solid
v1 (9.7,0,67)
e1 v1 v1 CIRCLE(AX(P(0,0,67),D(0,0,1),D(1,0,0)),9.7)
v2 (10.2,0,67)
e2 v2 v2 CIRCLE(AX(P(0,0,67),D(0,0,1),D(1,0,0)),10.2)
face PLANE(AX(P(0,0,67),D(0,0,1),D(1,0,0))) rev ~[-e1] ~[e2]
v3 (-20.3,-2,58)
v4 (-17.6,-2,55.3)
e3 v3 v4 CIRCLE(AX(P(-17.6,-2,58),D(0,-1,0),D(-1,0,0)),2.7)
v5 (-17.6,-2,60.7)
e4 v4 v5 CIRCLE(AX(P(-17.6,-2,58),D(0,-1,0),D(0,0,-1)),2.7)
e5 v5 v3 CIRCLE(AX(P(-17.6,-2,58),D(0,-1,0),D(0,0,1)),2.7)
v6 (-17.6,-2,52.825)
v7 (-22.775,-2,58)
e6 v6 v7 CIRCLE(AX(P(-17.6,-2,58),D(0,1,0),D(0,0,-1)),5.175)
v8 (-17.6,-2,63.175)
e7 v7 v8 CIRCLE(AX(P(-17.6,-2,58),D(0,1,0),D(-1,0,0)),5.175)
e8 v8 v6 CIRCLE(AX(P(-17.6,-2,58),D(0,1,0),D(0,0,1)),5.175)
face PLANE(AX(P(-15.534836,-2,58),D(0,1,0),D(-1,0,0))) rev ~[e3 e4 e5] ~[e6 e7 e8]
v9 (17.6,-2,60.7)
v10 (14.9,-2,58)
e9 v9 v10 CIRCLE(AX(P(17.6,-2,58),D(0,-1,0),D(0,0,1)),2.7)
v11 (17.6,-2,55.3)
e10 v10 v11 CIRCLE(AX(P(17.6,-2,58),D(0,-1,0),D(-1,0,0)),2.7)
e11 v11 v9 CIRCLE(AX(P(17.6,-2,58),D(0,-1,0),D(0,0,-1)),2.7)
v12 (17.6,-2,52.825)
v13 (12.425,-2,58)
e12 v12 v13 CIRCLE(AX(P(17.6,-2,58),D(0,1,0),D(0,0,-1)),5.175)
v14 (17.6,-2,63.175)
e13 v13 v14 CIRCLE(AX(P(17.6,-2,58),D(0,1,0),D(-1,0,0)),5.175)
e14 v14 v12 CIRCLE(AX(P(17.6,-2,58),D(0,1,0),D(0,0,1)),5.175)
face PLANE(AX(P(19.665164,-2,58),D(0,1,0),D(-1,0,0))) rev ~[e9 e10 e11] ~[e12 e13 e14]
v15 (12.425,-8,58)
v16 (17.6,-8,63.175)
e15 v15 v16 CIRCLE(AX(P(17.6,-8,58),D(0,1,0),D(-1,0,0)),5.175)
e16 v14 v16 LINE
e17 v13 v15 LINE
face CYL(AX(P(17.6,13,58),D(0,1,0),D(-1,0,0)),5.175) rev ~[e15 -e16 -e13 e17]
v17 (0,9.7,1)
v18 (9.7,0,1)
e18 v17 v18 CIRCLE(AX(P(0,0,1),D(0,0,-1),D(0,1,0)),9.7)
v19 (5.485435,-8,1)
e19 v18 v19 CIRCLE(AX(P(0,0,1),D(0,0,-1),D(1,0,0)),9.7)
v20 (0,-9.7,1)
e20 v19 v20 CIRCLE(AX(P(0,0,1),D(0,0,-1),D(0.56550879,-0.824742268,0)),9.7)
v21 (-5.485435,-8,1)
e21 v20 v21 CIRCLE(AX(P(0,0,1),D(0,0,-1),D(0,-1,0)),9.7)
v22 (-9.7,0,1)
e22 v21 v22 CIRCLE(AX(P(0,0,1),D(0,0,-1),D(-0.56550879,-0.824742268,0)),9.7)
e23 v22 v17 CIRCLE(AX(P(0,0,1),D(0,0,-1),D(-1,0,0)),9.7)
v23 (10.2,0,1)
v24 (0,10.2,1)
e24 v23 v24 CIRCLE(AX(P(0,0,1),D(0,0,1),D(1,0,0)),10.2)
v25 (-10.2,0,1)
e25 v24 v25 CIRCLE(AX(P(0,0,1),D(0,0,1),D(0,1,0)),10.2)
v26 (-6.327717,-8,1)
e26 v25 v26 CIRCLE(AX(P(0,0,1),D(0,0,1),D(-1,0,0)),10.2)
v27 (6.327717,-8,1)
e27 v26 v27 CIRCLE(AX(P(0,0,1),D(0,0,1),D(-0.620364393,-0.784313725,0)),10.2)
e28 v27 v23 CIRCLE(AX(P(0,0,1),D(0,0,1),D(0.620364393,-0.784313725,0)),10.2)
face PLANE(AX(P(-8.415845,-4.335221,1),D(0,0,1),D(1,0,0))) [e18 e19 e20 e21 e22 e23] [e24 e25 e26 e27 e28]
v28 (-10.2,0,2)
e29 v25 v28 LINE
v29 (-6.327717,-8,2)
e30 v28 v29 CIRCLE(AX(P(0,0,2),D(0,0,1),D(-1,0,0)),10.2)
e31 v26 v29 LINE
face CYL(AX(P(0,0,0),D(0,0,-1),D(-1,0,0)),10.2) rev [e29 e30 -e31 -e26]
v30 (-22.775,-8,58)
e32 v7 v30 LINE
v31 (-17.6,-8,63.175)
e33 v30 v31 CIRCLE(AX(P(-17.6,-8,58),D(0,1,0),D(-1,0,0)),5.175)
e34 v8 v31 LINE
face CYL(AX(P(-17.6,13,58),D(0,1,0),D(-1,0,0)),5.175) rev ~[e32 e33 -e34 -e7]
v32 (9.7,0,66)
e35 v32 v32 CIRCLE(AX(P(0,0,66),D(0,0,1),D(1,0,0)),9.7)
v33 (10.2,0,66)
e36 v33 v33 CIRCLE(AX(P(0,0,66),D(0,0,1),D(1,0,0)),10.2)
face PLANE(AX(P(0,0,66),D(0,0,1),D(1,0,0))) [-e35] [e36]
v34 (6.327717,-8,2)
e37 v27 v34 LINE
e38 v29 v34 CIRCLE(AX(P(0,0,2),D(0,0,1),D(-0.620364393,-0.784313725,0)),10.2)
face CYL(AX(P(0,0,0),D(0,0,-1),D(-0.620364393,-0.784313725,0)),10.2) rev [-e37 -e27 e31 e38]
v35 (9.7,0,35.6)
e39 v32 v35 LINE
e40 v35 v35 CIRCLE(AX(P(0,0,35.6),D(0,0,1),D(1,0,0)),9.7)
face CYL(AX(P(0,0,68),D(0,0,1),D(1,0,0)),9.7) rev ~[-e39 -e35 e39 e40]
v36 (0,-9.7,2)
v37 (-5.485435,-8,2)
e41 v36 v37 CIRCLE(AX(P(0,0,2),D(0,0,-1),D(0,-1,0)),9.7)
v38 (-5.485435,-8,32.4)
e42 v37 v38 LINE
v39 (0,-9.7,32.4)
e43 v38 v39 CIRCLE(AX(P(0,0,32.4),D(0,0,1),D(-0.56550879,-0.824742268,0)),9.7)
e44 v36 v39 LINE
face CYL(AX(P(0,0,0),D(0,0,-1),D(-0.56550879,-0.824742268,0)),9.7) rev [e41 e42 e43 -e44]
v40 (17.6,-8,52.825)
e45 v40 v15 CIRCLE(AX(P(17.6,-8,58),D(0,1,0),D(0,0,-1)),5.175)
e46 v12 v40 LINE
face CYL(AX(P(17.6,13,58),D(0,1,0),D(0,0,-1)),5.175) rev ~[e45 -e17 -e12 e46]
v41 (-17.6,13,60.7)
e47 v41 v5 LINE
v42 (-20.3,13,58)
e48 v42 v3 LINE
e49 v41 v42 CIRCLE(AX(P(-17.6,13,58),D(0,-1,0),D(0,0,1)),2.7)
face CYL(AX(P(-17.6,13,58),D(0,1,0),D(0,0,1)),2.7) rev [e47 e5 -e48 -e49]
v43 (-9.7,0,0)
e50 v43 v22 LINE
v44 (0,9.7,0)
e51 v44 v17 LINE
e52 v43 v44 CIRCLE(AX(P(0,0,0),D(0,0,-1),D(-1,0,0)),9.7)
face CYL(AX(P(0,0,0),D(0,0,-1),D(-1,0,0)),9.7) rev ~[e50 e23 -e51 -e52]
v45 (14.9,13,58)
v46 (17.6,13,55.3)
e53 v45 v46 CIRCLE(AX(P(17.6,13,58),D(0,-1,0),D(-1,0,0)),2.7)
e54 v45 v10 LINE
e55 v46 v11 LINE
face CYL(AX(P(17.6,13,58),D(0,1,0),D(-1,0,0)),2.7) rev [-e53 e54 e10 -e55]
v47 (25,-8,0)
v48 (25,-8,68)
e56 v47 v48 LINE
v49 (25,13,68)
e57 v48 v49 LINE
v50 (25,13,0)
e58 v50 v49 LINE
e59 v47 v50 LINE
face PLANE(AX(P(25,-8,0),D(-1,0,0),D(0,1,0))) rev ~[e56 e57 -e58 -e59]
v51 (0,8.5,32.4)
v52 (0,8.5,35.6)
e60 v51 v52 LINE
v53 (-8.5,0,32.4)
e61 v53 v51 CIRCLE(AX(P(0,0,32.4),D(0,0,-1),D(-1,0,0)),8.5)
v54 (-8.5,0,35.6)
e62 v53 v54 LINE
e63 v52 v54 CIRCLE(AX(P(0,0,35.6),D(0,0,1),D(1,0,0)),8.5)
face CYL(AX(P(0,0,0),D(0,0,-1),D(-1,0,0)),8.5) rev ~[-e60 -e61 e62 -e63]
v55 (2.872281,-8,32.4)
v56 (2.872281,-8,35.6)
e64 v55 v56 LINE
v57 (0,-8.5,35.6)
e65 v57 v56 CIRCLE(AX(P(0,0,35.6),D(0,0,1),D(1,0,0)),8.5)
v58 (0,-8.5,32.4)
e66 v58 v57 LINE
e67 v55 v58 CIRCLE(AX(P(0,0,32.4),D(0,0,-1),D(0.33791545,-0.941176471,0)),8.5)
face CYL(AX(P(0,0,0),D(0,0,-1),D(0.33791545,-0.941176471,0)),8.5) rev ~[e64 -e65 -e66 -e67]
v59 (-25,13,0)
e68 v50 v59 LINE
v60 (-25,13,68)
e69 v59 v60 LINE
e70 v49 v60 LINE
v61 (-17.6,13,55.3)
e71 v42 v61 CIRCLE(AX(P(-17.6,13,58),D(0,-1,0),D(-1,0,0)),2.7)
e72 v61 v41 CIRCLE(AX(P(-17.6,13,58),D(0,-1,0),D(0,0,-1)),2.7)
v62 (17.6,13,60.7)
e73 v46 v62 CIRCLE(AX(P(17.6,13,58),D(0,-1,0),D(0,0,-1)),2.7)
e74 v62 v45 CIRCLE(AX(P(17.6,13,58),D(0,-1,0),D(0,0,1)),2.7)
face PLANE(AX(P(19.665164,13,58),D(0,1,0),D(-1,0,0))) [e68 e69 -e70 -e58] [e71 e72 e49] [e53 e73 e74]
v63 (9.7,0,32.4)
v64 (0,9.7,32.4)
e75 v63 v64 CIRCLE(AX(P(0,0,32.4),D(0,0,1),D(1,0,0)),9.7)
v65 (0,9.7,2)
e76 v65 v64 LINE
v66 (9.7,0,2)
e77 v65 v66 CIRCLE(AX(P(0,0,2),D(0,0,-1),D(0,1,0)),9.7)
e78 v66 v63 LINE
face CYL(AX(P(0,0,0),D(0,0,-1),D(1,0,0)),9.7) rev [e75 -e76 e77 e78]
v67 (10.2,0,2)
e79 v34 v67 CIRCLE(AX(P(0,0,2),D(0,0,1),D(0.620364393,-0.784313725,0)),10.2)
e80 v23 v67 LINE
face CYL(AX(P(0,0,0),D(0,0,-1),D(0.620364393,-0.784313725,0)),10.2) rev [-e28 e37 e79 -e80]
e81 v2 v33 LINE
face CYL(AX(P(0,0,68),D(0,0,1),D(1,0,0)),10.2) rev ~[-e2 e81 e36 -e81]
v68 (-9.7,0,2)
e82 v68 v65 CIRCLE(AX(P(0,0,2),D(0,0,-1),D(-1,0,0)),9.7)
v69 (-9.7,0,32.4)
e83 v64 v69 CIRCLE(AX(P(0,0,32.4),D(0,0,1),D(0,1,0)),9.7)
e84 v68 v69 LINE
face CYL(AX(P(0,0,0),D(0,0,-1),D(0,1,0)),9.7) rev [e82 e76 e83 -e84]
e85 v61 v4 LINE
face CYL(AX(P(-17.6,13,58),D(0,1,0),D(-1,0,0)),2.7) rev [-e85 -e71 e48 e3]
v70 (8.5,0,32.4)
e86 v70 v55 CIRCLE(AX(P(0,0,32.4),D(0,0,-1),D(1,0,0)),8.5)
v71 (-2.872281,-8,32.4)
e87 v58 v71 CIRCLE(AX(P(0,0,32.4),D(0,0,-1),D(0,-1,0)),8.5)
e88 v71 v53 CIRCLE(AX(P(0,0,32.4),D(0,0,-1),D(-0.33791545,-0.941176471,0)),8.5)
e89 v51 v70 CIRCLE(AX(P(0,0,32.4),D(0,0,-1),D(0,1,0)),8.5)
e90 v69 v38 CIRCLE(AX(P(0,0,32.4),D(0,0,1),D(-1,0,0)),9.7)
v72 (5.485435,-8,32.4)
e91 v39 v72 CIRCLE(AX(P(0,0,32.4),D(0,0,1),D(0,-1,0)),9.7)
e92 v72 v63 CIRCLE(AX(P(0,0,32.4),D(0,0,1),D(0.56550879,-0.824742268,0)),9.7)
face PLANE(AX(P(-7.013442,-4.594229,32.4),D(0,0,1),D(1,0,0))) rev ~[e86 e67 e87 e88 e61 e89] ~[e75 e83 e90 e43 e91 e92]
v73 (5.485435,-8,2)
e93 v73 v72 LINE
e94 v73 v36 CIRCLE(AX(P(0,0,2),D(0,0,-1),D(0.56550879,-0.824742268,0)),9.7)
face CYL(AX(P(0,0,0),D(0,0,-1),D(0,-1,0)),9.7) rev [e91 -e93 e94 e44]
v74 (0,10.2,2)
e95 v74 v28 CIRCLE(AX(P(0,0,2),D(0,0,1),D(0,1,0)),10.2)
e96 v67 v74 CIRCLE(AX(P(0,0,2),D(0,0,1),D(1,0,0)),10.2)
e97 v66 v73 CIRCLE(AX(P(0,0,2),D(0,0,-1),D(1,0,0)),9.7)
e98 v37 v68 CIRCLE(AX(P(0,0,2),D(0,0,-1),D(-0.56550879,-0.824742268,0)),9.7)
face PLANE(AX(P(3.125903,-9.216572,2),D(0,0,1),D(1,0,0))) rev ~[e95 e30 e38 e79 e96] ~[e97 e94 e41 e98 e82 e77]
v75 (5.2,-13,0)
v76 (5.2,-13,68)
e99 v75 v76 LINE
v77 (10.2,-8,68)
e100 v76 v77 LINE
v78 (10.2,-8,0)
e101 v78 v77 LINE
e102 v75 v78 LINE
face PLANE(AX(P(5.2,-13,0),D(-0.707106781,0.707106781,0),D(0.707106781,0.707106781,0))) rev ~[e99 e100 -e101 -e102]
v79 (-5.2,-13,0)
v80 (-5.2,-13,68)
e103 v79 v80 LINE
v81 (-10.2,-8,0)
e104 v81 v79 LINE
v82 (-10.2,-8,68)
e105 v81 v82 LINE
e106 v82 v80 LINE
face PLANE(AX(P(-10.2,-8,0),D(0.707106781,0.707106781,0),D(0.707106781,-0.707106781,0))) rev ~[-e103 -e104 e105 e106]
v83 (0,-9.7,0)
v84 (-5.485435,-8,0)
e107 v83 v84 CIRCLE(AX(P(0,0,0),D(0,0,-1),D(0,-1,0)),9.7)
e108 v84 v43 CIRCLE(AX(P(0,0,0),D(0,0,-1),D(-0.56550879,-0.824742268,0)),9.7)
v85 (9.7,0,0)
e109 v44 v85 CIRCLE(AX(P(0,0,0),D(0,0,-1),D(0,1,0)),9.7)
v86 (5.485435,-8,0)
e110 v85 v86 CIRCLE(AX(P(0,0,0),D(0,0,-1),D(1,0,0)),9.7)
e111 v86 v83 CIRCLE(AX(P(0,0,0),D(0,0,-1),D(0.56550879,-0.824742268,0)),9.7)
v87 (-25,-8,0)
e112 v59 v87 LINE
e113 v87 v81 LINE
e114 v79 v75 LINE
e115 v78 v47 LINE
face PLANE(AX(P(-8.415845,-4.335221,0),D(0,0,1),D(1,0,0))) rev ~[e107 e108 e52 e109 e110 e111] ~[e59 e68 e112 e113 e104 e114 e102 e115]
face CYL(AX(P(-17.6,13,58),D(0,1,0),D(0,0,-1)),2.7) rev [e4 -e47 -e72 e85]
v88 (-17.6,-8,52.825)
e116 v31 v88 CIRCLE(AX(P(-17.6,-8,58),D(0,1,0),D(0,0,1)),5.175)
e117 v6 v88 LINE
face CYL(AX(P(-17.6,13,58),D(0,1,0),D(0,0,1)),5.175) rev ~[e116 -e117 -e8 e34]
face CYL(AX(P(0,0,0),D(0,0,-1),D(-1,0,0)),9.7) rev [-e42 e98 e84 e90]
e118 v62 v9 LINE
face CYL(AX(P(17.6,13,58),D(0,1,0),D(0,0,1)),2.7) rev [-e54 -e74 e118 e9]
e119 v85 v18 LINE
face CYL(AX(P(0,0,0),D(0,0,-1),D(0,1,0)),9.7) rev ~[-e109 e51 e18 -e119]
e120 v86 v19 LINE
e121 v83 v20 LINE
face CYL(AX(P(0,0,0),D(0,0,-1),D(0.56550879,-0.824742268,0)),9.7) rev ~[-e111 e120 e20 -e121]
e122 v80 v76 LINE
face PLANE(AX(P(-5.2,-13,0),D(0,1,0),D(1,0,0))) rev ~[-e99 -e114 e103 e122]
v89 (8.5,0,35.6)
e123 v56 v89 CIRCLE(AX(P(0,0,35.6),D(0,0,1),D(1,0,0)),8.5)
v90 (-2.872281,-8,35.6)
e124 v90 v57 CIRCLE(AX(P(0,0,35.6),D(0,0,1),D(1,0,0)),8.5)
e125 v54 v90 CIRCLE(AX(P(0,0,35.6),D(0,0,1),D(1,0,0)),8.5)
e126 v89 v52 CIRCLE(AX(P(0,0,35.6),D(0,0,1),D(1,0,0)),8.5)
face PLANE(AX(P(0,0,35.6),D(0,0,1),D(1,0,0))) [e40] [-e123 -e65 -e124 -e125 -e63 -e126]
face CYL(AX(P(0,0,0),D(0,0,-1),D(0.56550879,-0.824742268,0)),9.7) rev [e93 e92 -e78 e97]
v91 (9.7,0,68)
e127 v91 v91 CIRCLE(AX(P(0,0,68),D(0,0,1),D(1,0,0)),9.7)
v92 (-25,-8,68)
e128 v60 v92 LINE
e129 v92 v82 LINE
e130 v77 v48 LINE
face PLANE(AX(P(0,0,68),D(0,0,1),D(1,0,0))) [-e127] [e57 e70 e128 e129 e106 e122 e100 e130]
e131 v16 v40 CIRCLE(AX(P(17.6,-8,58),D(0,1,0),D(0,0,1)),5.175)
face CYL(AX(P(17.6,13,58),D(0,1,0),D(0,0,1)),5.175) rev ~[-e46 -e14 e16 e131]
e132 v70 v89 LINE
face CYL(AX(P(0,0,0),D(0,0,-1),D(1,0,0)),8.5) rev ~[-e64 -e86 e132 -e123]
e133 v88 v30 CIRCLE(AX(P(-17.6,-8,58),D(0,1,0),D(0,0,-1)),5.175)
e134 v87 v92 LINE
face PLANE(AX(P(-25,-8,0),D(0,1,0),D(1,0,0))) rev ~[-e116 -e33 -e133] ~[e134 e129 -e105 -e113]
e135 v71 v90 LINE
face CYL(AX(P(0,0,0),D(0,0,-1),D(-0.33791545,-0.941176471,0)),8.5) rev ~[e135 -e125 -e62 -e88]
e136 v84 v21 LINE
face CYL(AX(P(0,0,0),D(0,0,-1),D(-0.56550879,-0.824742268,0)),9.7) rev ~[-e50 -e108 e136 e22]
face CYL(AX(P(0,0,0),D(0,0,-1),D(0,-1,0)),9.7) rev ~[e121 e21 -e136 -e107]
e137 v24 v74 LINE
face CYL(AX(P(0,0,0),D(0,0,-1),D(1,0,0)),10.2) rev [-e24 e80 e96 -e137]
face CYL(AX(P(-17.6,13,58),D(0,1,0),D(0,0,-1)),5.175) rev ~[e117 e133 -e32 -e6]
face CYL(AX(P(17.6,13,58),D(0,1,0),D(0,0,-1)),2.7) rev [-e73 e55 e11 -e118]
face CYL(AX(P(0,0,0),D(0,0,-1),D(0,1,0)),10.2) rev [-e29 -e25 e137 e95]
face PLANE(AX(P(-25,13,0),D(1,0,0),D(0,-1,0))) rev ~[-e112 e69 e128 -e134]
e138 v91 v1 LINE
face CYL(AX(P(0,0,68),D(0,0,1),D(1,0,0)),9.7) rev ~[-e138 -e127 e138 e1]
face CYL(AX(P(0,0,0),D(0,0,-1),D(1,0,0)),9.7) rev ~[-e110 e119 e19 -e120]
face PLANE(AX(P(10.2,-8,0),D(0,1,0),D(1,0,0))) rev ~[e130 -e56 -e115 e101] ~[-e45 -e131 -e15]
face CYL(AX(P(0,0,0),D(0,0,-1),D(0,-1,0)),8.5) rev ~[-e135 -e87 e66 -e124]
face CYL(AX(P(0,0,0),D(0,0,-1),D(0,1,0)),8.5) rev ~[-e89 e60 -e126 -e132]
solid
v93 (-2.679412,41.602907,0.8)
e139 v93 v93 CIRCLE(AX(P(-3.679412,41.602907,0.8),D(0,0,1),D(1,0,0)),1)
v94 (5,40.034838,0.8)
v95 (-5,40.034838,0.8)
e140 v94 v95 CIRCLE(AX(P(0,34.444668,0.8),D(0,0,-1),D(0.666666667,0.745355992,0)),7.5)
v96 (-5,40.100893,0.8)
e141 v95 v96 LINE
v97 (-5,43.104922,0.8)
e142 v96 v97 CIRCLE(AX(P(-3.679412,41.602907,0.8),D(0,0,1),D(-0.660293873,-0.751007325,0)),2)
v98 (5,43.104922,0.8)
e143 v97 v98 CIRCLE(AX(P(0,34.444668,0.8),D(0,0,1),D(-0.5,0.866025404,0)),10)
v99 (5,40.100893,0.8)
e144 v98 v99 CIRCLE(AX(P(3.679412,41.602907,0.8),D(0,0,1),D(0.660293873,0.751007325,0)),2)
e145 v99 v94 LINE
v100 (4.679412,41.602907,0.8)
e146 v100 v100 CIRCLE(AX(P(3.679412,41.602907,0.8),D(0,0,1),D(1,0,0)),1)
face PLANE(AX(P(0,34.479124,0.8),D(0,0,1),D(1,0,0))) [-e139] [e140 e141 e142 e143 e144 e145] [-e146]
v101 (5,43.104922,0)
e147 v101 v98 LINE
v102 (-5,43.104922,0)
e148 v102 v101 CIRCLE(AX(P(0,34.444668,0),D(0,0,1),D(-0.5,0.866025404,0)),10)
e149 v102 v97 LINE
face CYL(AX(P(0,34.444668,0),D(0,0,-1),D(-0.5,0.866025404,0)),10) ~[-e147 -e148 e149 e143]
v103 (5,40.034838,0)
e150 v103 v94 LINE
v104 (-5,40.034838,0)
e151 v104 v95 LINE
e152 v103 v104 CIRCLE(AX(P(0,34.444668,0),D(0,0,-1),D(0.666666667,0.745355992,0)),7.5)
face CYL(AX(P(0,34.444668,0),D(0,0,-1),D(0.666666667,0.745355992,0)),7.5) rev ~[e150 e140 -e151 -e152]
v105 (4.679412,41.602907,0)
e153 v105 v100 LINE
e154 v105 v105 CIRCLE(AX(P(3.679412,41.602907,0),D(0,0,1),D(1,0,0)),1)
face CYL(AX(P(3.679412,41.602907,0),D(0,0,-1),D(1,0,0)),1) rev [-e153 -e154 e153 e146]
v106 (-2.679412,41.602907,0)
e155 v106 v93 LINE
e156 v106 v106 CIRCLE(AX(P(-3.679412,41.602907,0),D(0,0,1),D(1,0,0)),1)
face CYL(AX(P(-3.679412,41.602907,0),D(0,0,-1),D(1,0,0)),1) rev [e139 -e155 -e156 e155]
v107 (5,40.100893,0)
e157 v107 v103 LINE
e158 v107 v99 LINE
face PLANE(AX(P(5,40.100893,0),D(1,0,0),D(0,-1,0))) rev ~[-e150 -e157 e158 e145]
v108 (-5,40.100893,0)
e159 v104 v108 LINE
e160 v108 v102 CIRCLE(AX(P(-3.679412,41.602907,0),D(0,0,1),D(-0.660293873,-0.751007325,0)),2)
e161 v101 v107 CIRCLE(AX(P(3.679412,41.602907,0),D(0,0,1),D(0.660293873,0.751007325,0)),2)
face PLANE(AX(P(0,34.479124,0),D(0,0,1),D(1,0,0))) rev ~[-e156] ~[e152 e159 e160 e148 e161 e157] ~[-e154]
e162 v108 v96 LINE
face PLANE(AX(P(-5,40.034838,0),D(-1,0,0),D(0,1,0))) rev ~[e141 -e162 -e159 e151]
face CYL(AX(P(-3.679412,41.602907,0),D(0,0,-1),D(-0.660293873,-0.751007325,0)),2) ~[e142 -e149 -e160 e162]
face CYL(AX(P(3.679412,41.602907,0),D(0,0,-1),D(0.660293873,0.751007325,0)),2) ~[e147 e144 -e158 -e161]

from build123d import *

# Parameters (mm, degrees)
F0_W      = 12.8
F0_H      = 8
F0_W_2    = 2
F1_DEPTH  = 68
F2_DEPTH  = 32.4
F3_DEPTH  = 2
F4_DEPTH  = 1
F5_R      = 9.7
F5_R_2    = 8.5
F6_DEPTH  = 32.4
F5_R_3    = 10.2
F7_DEPTH  = 2
F8_DEPTH  = 1
F10_DEPTH = 21
F11_DEPTH = 15
F12_R     = 1
F13_DEPTH = 0.8


with BuildPart() as f1:
    # F0 (on Top) → F1 (new body)
    with BuildSketch(Plane.XY):
        Polygon((-10.2, 13), (-25, 13), (-25, 5), (-23, 3), (-23, 0), (-10.2, 0), align=None)
        with BuildLine():
            Line((0, 13), (-10.2, 13))
            Line((-10.2, 13), (-10.2, 0))
            ThreePointArc((-10.2, 0), (-7.2124891681, 7.2124891681), (0, 10.2))
            Line((0, 10.2), (0, 13))
        make_face()
        with BuildLine():
            Line((10.2, 13), (0, 13))
            Line((0, 13), (0, 10.2))
            ThreePointArc((0, 10.2), (7.2124891681, 7.2124891681), (10.2, 0))
            Line((10.2, 0), (10.2, 13))
        make_face()
        Polygon((25, 13), (10.2, 13), (10.2, 0), (23, 0), (23, 3), (25, 5), align=None)
        with BuildLine():
            ThreePointArc((0, -10.2), (-3.3496268449, -9.6343136756), (-6.3277168078, -8))
            Line((-6.3277168078, -8), (-10.2, -8))
            Line((-10.2, -8), (-5.2, -13))
            Line((-5.2, -13), (0, -13))
            Line((0, -13), (0, -10.2))
        make_face()
        with Locations((-16.6, -4)):
            Rectangle(F0_W, F0_H)
        with BuildLine():
            ThreePointArc((-6.3277168078, -8), (-9.1810323886, -4.4439446756), (-10.2, 0))
            Line((-10.2, 0), (-10.2, -8))
            Line((-10.2, -8), (-6.3277168078, -8))
        make_face()
        with Locations((16.6, -4)):
            Rectangle(F0_W, F0_H)
        with BuildLine():
            Line((10.2, -8), (10.2, 0))
            ThreePointArc((10.2, 0), (9.1810323886, -4.4439446756), (6.3277168078, -8))
            Line((6.3277168078, -8), (10.2, -8))
        make_face()
        with BuildLine():
            ThreePointArc((6.3277168078, -8), (3.3496268449, -9.6343136756), (0, -10.2))
            Line((0, -10.2), (0, -13))
            Line((0, -13), (5.2, -13))
            Line((5.2, -13), (10.2, -8))
            Line((10.2, -8), (6.3277168078, -8))
        make_face()
        with BuildLine():
            Line((-9.7, 0), (-10.2, 0))
            ThreePointArc((-10.2, 0), (-9.1810323886, -4.4439446756), (-6.3277168078, -8))
            Line((-6.3277168078, -8), (-5.4854352608, -8))
            ThreePointArc((-5.4854352608, -8), (-8.5819205901, -4.5211324892), (-9.7, 0))
        make_face()
        with BuildLine():
            Line((-5.4854352608, -8), (-6.3277168078, -8))
            ThreePointArc((-6.3277168078, -8), (-3.3496268449, -9.6343136756), (0, -10.2))
            Line((0, -10.2), (0, -9.7))
            ThreePointArc((0, -9.7), (-2.8714108031, -9.2652576866), (-5.4854352608, -8))
        make_face()
        with BuildLine():
            Line((0, -9.7), (0, -10.2))
            ThreePointArc((0, -10.2), (3.3496268449, -9.6343136756), (6.3277168078, -8))
            Line((6.3277168078, -8), (5.4854352608, -8))
            ThreePointArc((5.4854352608, -8), (2.8714108031, -9.2652576866), (0, -9.7))
        make_face()
        with BuildLine():
            ThreePointArc((6.3277168078, -8), (9.1810323886, -4.4439446756), (10.2, 0))
            Line((10.2, 0), (9.7, 0))
            ThreePointArc((9.7, 0), (8.5819205901, -4.5211324892), (5.4854352608, -8))
            Line((5.4854352608, -8), (6.3277168078, -8))
        make_face()
        with BuildLine():
            ThreePointArc((10.2, 0), (7.2124891681, 7.2124891681), (0, 10.2))
            Line((0, 10.2), (0, 9.7))
            ThreePointArc((0, 9.7), (6.8589357775, 6.8589357775), (9.7, 0))
            Line((9.7, 0), (10.2, 0))
        make_face()
        with BuildLine():
            ThreePointArc((0, 10.2), (-7.2124891681, 7.2124891681), (-10.2, 0))
            Line((-10.2, 0), (-9.7, 0))
            ThreePointArc((-9.7, 0), (-6.8589357775, 6.8589357775), (0, 9.7))
            Line((0, 9.7), (0, 10.2))
        make_face()
        with BuildLine():
            ThreePointArc((0, 9.7), (-6.8589357775, 6.8589357775), (-9.7, 0))
            Line((-9.7, 0), (-8.5, 0))
            ThreePointArc((-8.5, 0), (-6.0104076401, 6.0104076401), (0, 8.5))
            Line((0, 8.5), (0, 9.7))
        make_face()
        with BuildLine():
            Line((-8.5, 0), (-9.7, 0))
            ThreePointArc((-9.7, 0), (-8.5819205901, -4.5211324892), (-5.4854352608, -8))
            Line((-5.4854352608, -8), (-2.8722813233, -8))
            ThreePointArc((-2.8722813233, -8), (-6.9521360476, -4.8905832348), (-8.5, 0))
        make_face()
        with BuildLine():
            Line((-2.8722813233, -8), (-5.4854352608, -8))
            ThreePointArc((-5.4854352608, -8), (-2.8714108031, -9.2652576866), (0, -9.7))
            Line((0, -9.7), (0, -8.5))
            ThreePointArc((0, -8.5), (-1.4577379737, -8.3740671122), (-2.8722813233, -8))
        make_face()
        with BuildLine():
            Line((0, -8.5), (0, -9.7))
            ThreePointArc((0, -9.7), (2.8714108031, -9.2652576866), (5.4854352608, -8))
            Line((5.4854352608, -8), (2.8722813233, -8))
            ThreePointArc((2.8722813233, -8), (1.4577379737, -8.3740671122), (0, -8.5))
        make_face()
        with BuildLine():
            ThreePointArc((5.4854352608, -8), (8.5819205901, -4.5211324892), (9.7, 0))
            Line((9.7, 0), (8.5, 0))
            ThreePointArc((8.5, 0), (6.9521360476, -4.8905832348), (2.8722813233, -8))
            Line((2.8722813233, -8), (5.4854352608, -8))
        make_face()
        with BuildLine():
            ThreePointArc((9.7, 0), (6.8589357775, 6.8589357775), (0, 9.7))
            Line((0, 9.7), (0, 8.5))
            ThreePointArc((0, 8.5), (6.0104076401, 6.0104076401), (8.5, 0))
            Line((8.5, 0), (9.7, 0))
        make_face()
        with Locations((24, -4)):
            Rectangle(F0_W_2, F0_H)
        Polygon((25, 3), (25, 5), (23, 3), (23, 0), (25, 0), align=None)
        with Locations((-24, -4)):
            Rectangle(F0_W_2, F0_H)
        Polygon((-23, 3), (-25, 5), (-25, 3), (-25, 0), (-23, 0), align=None)
    extrude(amount=F1_DEPTH)

    # F0 (on Top) → F2 (cut)
    with BuildSketch(Plane.XY):
        with BuildLine():
            Line((-8.5, 0), (-9.7, 0))
            ThreePointArc((-9.7, 0), (-8.5819205901, -4.5211324892), (-5.4854352608, -8))
            Line((-5.4854352608, -8), (-2.8722813233, -8))
            ThreePointArc((-2.8722813233, -8), (-6.9521360476, -4.8905832348), (-8.5, 0))
        make_face()
        with BuildLine():
            Line((-2.8722813233, -8), (-5.4854352608, -8))
            ThreePointArc((-5.4854352608, -8), (-2.8714108031, -9.2652576866), (0, -9.7))
            Line((0, -9.7), (0, -8.5))
            ThreePointArc((0, -8.5), (-1.4577379737, -8.3740671122), (-2.8722813233, -8))
        make_face()
        with BuildLine():
            Line((0, -8.5), (0, -9.7))
            ThreePointArc((0, -9.7), (2.8714108031, -9.2652576866), (5.4854352608, -8))
            Line((5.4854352608, -8), (2.8722813233, -8))
            ThreePointArc((2.8722813233, -8), (1.4577379737, -8.3740671122), (0, -8.5))
        make_face()
        with BuildLine():
            ThreePointArc((5.4854352608, -8), (8.5819205901, -4.5211324892), (9.7, 0))
            Line((9.7, 0), (8.5, 0))
            ThreePointArc((8.5, 0), (6.9521360476, -4.8905832348), (2.8722813233, -8))
            Line((2.8722813233, -8), (5.4854352608, -8))
        make_face()
        with BuildLine():
            ThreePointArc((9.7, 0), (6.8589357775, 6.8589357775), (0, 9.7))
            Line((0, 9.7), (0, 8.5))
            ThreePointArc((0, 8.5), (6.0104076401, 6.0104076401), (8.5, 0))
            Line((8.5, 0), (9.7, 0))
        make_face()
        with BuildLine():
            ThreePointArc((0, 9.7), (-6.8589357775, 6.8589357775), (-9.7, 0))
            Line((-9.7, 0), (-8.5, 0))
            ThreePointArc((-8.5, 0), (-6.0104076401, 6.0104076401), (0, 8.5))
            Line((0, 8.5), (0, 9.7))
        make_face()
    extrude(amount=F2_DEPTH, mode=Mode.SUBTRACT)

    # F0 (on Top) → F3 (cut)
    with BuildSketch(Plane.XY):
        with BuildLine():
            Line((0, -9.7), (0, -10.2))
            ThreePointArc((0, -10.2), (3.3496268449, -9.6343136756), (6.3277168078, -8))
            Line((6.3277168078, -8), (5.4854352608, -8))
            ThreePointArc((5.4854352608, -8), (2.8714108031, -9.2652576866), (0, -9.7))
        make_face()
        with BuildLine():
            ThreePointArc((6.3277168078, -8), (9.1810323886, -4.4439446756), (10.2, 0))
            Line((10.2, 0), (9.7, 0))
            ThreePointArc((9.7, 0), (8.5819205901, -4.5211324892), (5.4854352608, -8))
            Line((5.4854352608, -8), (6.3277168078, -8))
        make_face()
        with BuildLine():
            ThreePointArc((10.2, 0), (7.2124891681, 7.2124891681), (0, 10.2))
            Line((0, 10.2), (0, 9.7))
            ThreePointArc((0, 9.7), (6.8589357775, 6.8589357775), (9.7, 0))
            Line((9.7, 0), (10.2, 0))
        make_face()
        with BuildLine():
            ThreePointArc((0, 10.2), (-7.2124891681, 7.2124891681), (-10.2, 0))
            Line((-10.2, 0), (-9.7, 0))
            ThreePointArc((-9.7, 0), (-6.8589357775, 6.8589357775), (0, 9.7))
            Line((0, 9.7), (0, 10.2))
        make_face()
        with BuildLine():
            Line((-9.7, 0), (-10.2, 0))
            ThreePointArc((-10.2, 0), (-9.1810323886, -4.4439446756), (-6.3277168078, -8))
            Line((-6.3277168078, -8), (-5.4854352608, -8))
            ThreePointArc((-5.4854352608, -8), (-8.5819205901, -4.5211324892), (-9.7, 0))
        make_face()
        with BuildLine():
            Line((-5.4854352608, -8), (-6.3277168078, -8))
            ThreePointArc((-6.3277168078, -8), (-3.3496268449, -9.6343136756), (0, -10.2))
            Line((0, -10.2), (0, -9.7))
            ThreePointArc((0, -9.7), (-2.8714108031, -9.2652576866), (-5.4854352608, -8))
        make_face()
    extrude(amount=F3_DEPTH, mode=Mode.SUBTRACT)

    # F0 (on Top) → F4 (join)
    with BuildSketch(Plane.XY):
        with BuildLine():
            Line((-9.7, 0), (-10.2, 0))
            ThreePointArc((-10.2, 0), (-9.1810323886, -4.4439446756), (-6.3277168078, -8))
            Line((-6.3277168078, -8), (-5.4854352608, -8))
            ThreePointArc((-5.4854352608, -8), (-8.5819205901, -4.5211324892), (-9.7, 0))
        make_face()
        with BuildLine():
            Line((-5.4854352608, -8), (-6.3277168078, -8))
            ThreePointArc((-6.3277168078, -8), (-3.3496268449, -9.6343136756), (0, -10.2))
            Line((0, -10.2), (0, -9.7))
            ThreePointArc((0, -9.7), (-2.8714108031, -9.2652576866), (-5.4854352608, -8))
        make_face()
        with BuildLine():
            Line((0, -9.7), (0, -10.2))
            ThreePointArc((0, -10.2), (3.3496268449, -9.6343136756), (6.3277168078, -8))
            Line((6.3277168078, -8), (5.4854352608, -8))
            ThreePointArc((5.4854352608, -8), (2.8714108031, -9.2652576866), (0, -9.7))
        make_face()
        with BuildLine():
            ThreePointArc((6.3277168078, -8), (9.1810323886, -4.4439446756), (10.2, 0))
            Line((10.2, 0), (9.7, 0))
            ThreePointArc((9.7, 0), (8.5819205901, -4.5211324892), (5.4854352608, -8))
            Line((5.4854352608, -8), (6.3277168078, -8))
        make_face()
        with BuildLine():
            ThreePointArc((10.2, 0), (7.2124891681, 7.2124891681), (0, 10.2))
            Line((0, 10.2), (0, 9.7))
            ThreePointArc((0, 9.7), (6.8589357775, 6.8589357775), (9.7, 0))
            Line((9.7, 0), (10.2, 0))
        make_face()
        with BuildLine():
            ThreePointArc((0, 10.2), (-7.2124891681, 7.2124891681), (-10.2, 0))
            Line((-10.2, 0), (-9.7, 0))
            ThreePointArc((-9.7, 0), (-6.8589357775, 6.8589357775), (0, 9.7))
            Line((0, 9.7), (0, 10.2))
        make_face()
    extrude(amount=F4_DEPTH)

    # F5 (on face) → F6 (cut)
    with BuildSketch(Plane.XY.offset(68)):
        Circle(F5_R)
        Circle(F5_R_2, mode=Mode.SUBTRACT)
    extrude(amount=-F6_DEPTH, mode=Mode.SUBTRACT)

    # F5 (on face) → F7 (cut)
    with BuildSketch(Plane.XY.offset(68)):
        Circle(F5_R_3)
        Circle(F5_R, mode=Mode.SUBTRACT)
    extrude(amount=-F7_DEPTH, mode=Mode.SUBTRACT)

    # F5 (on face) → F8 (join)
    with BuildSketch(Plane.XY.offset(68)):
        Circle(F5_R_3)
        Circle(F5_R, mode=Mode.SUBTRACT)
    extrude(amount=-F8_DEPTH)

    # F9 (on face) → F10 (cut)
    with BuildSketch(Plane(origin=(0, 13, 0), x_dir=(-1, 0, 0), z_dir=(0, 1, 0))):
        with BuildLine():
            ThreePointArc((-12.425, 58), (-13.9407224074, 61.6592775926), (-17.6, 63.175))
            Line((-17.6, 63.175), (-17.6, 60.7))
            ThreePointArc((-17.6, 60.7), (-15.6908116908, 59.9091883092), (-14.9, 58))
            ThreePointArc((-14.9, 58), (-15.6908116908, 56.0908116908), (-17.6, 55.3))
            Line((-17.6, 55.3), (-17.6, 52.825))
            ThreePointArc((-17.6, 52.825), (-13.9407224074, 54.3407224074), (-12.425, 58))
        make_face()
        with BuildLine():
            Line((-17.6, 60.7), (-17.6, 63.175))
            ThreePointArc((-17.6, 63.175), (-22.775, 58), (-17.6, 52.825))
            Line((-17.6, 52.825), (-17.6, 55.3))
            ThreePointArc((-17.6, 55.3), (-20.3, 58), (-17.6, 60.7))
        make_face()
        with BuildLine():
            Line((17.6, 60.7), (17.6, 63.175))
            ThreePointArc((17.6, 63.175), (12.425, 58), (17.6, 52.825))
            Line((17.6, 52.825), (17.6, 55.3))
            ThreePointArc((17.6, 55.3), (14.9, 58), (17.6, 60.7))
        make_face()
        with BuildLine():
            ThreePointArc((22.775, 58), (21.2592775926, 61.6592775926), (17.6, 63.175))
            Line((17.6, 63.175), (17.6, 60.7))
            ThreePointArc((17.6, 60.7), (19.5091883092, 59.9091883092), (20.3, 58))
            ThreePointArc((20.3, 58), (19.5091883092, 56.0908116908), (17.6, 55.3))
            Line((17.6, 55.3), (17.6, 52.825))
            ThreePointArc((17.6, 52.825), (21.2592775926, 54.3407224074), (22.775, 58))
        make_face()
        with BuildLine():
            Line((17.6, 55.3), (17.6, 60.7))
            ThreePointArc((17.6, 60.7), (14.9, 58), (17.6, 55.3))
        make_face()
        with BuildLine():
            ThreePointArc((20.3, 58), (19.5091883092, 59.9091883092), (17.6, 60.7))
            Line((17.6, 60.7), (17.6, 55.3))
            ThreePointArc((17.6, 55.3), (19.5091883092, 56.0908116908), (20.3, 58))
        make_face()
        with BuildLine():
            ThreePointArc((-14.9, 58), (-15.6908116908, 59.9091883092), (-17.6, 60.7))
            Line((-17.6, 60.7), (-17.6, 55.3))
            ThreePointArc((-17.6, 55.3), (-15.6908116908, 56.0908116908), (-14.9, 58))
        make_face()
        with BuildLine():
            Line((-17.6, 55.3), (-17.6, 60.7))
            ThreePointArc((-17.6, 60.7), (-20.3, 58), (-17.6, 55.3))
        make_face()
    extrude(amount=-F10_DEPTH, mode=Mode.SUBTRACT)

    # F9 (on face) → F11 (join)
    with BuildSketch(Plane(origin=(0, 13, 0), x_dir=(-1, 0, 0), z_dir=(0, 1, 0))):
        with BuildLine():
            Line((-17.6, 60.7), (-17.6, 63.175))
            ThreePointArc((-17.6, 63.175), (-22.775, 58), (-17.6, 52.825))
            Line((-17.6, 52.825), (-17.6, 55.3))
            ThreePointArc((-17.6, 55.3), (-20.3, 58), (-17.6, 60.7))
        make_face()
        with BuildLine():
            ThreePointArc((-12.425, 58), (-13.9407224074, 61.6592775926), (-17.6, 63.175))
            Line((-17.6, 63.175), (-17.6, 60.7))
            ThreePointArc((-17.6, 60.7), (-15.6908116908, 59.9091883092), (-14.9, 58))
            ThreePointArc((-14.9, 58), (-15.6908116908, 56.0908116908), (-17.6, 55.3))
            Line((-17.6, 55.3), (-17.6, 52.825))
            ThreePointArc((-17.6, 52.825), (-13.9407224074, 54.3407224074), (-12.425, 58))
        make_face()
        with BuildLine():
            Line((17.6, 60.7), (17.6, 63.175))
            ThreePointArc((17.6, 63.175), (12.425, 58), (17.6, 52.825))
            Line((17.6, 52.825), (17.6, 55.3))
            ThreePointArc((17.6, 55.3), (14.9, 58), (17.6, 60.7))
        make_face()
        with BuildLine():
            ThreePointArc((22.775, 58), (21.2592775926, 61.6592775926), (17.6, 63.175))
            Line((17.6, 63.175), (17.6, 60.7))
            ThreePointArc((17.6, 60.7), (19.5091883092, 59.9091883092), (20.3, 58))
            ThreePointArc((20.3, 58), (19.5091883092, 56.0908116908), (17.6, 55.3))
            Line((17.6, 55.3), (17.6, 52.825))
            ThreePointArc((17.6, 52.825), (21.2592775926, 54.3407224074), (22.775, 58))
        make_face()
    extrude(amount=-F11_DEPTH)


with BuildPart() as f13:
    # F12 (on Top) → F13 (new body)
    with BuildSketch(Plane.XY):
        with BuildLine():
            ThreePointArc((-5, 40.1008925547), (-1.6794122544, 41.6029072038), (-5, 43.1049218529))
            ThreePointArc((-5, 43.1049218529), (0, 24.4446678151), (5, 43.1049218529))
            ThreePointArc((5, 43.1049218529), (1.6794122544, 41.6029072038), (5, 40.1008925547))
            Line((5, 40.1008925547), (5, 40.0348377588))
            ThreePointArc((5, 40.0348377588), (0, 26.9446678151), (-5, 40.0348377588))
            Line((-5, 40.0348377588), (-5, 40.1008925547))
        make_face()
        with Locations((-3.6794122544, 41.6029072038)):
            Circle(F12_R, mode=Mode.SUBTRACT)
        with Locations((3.6794122544, 41.6029072038)):
            Circle(F12_R, mode=Mode.SUBTRACT)
    extrude(amount=F13_DEPTH)


solid = Compound([f1.part, f13.part])
